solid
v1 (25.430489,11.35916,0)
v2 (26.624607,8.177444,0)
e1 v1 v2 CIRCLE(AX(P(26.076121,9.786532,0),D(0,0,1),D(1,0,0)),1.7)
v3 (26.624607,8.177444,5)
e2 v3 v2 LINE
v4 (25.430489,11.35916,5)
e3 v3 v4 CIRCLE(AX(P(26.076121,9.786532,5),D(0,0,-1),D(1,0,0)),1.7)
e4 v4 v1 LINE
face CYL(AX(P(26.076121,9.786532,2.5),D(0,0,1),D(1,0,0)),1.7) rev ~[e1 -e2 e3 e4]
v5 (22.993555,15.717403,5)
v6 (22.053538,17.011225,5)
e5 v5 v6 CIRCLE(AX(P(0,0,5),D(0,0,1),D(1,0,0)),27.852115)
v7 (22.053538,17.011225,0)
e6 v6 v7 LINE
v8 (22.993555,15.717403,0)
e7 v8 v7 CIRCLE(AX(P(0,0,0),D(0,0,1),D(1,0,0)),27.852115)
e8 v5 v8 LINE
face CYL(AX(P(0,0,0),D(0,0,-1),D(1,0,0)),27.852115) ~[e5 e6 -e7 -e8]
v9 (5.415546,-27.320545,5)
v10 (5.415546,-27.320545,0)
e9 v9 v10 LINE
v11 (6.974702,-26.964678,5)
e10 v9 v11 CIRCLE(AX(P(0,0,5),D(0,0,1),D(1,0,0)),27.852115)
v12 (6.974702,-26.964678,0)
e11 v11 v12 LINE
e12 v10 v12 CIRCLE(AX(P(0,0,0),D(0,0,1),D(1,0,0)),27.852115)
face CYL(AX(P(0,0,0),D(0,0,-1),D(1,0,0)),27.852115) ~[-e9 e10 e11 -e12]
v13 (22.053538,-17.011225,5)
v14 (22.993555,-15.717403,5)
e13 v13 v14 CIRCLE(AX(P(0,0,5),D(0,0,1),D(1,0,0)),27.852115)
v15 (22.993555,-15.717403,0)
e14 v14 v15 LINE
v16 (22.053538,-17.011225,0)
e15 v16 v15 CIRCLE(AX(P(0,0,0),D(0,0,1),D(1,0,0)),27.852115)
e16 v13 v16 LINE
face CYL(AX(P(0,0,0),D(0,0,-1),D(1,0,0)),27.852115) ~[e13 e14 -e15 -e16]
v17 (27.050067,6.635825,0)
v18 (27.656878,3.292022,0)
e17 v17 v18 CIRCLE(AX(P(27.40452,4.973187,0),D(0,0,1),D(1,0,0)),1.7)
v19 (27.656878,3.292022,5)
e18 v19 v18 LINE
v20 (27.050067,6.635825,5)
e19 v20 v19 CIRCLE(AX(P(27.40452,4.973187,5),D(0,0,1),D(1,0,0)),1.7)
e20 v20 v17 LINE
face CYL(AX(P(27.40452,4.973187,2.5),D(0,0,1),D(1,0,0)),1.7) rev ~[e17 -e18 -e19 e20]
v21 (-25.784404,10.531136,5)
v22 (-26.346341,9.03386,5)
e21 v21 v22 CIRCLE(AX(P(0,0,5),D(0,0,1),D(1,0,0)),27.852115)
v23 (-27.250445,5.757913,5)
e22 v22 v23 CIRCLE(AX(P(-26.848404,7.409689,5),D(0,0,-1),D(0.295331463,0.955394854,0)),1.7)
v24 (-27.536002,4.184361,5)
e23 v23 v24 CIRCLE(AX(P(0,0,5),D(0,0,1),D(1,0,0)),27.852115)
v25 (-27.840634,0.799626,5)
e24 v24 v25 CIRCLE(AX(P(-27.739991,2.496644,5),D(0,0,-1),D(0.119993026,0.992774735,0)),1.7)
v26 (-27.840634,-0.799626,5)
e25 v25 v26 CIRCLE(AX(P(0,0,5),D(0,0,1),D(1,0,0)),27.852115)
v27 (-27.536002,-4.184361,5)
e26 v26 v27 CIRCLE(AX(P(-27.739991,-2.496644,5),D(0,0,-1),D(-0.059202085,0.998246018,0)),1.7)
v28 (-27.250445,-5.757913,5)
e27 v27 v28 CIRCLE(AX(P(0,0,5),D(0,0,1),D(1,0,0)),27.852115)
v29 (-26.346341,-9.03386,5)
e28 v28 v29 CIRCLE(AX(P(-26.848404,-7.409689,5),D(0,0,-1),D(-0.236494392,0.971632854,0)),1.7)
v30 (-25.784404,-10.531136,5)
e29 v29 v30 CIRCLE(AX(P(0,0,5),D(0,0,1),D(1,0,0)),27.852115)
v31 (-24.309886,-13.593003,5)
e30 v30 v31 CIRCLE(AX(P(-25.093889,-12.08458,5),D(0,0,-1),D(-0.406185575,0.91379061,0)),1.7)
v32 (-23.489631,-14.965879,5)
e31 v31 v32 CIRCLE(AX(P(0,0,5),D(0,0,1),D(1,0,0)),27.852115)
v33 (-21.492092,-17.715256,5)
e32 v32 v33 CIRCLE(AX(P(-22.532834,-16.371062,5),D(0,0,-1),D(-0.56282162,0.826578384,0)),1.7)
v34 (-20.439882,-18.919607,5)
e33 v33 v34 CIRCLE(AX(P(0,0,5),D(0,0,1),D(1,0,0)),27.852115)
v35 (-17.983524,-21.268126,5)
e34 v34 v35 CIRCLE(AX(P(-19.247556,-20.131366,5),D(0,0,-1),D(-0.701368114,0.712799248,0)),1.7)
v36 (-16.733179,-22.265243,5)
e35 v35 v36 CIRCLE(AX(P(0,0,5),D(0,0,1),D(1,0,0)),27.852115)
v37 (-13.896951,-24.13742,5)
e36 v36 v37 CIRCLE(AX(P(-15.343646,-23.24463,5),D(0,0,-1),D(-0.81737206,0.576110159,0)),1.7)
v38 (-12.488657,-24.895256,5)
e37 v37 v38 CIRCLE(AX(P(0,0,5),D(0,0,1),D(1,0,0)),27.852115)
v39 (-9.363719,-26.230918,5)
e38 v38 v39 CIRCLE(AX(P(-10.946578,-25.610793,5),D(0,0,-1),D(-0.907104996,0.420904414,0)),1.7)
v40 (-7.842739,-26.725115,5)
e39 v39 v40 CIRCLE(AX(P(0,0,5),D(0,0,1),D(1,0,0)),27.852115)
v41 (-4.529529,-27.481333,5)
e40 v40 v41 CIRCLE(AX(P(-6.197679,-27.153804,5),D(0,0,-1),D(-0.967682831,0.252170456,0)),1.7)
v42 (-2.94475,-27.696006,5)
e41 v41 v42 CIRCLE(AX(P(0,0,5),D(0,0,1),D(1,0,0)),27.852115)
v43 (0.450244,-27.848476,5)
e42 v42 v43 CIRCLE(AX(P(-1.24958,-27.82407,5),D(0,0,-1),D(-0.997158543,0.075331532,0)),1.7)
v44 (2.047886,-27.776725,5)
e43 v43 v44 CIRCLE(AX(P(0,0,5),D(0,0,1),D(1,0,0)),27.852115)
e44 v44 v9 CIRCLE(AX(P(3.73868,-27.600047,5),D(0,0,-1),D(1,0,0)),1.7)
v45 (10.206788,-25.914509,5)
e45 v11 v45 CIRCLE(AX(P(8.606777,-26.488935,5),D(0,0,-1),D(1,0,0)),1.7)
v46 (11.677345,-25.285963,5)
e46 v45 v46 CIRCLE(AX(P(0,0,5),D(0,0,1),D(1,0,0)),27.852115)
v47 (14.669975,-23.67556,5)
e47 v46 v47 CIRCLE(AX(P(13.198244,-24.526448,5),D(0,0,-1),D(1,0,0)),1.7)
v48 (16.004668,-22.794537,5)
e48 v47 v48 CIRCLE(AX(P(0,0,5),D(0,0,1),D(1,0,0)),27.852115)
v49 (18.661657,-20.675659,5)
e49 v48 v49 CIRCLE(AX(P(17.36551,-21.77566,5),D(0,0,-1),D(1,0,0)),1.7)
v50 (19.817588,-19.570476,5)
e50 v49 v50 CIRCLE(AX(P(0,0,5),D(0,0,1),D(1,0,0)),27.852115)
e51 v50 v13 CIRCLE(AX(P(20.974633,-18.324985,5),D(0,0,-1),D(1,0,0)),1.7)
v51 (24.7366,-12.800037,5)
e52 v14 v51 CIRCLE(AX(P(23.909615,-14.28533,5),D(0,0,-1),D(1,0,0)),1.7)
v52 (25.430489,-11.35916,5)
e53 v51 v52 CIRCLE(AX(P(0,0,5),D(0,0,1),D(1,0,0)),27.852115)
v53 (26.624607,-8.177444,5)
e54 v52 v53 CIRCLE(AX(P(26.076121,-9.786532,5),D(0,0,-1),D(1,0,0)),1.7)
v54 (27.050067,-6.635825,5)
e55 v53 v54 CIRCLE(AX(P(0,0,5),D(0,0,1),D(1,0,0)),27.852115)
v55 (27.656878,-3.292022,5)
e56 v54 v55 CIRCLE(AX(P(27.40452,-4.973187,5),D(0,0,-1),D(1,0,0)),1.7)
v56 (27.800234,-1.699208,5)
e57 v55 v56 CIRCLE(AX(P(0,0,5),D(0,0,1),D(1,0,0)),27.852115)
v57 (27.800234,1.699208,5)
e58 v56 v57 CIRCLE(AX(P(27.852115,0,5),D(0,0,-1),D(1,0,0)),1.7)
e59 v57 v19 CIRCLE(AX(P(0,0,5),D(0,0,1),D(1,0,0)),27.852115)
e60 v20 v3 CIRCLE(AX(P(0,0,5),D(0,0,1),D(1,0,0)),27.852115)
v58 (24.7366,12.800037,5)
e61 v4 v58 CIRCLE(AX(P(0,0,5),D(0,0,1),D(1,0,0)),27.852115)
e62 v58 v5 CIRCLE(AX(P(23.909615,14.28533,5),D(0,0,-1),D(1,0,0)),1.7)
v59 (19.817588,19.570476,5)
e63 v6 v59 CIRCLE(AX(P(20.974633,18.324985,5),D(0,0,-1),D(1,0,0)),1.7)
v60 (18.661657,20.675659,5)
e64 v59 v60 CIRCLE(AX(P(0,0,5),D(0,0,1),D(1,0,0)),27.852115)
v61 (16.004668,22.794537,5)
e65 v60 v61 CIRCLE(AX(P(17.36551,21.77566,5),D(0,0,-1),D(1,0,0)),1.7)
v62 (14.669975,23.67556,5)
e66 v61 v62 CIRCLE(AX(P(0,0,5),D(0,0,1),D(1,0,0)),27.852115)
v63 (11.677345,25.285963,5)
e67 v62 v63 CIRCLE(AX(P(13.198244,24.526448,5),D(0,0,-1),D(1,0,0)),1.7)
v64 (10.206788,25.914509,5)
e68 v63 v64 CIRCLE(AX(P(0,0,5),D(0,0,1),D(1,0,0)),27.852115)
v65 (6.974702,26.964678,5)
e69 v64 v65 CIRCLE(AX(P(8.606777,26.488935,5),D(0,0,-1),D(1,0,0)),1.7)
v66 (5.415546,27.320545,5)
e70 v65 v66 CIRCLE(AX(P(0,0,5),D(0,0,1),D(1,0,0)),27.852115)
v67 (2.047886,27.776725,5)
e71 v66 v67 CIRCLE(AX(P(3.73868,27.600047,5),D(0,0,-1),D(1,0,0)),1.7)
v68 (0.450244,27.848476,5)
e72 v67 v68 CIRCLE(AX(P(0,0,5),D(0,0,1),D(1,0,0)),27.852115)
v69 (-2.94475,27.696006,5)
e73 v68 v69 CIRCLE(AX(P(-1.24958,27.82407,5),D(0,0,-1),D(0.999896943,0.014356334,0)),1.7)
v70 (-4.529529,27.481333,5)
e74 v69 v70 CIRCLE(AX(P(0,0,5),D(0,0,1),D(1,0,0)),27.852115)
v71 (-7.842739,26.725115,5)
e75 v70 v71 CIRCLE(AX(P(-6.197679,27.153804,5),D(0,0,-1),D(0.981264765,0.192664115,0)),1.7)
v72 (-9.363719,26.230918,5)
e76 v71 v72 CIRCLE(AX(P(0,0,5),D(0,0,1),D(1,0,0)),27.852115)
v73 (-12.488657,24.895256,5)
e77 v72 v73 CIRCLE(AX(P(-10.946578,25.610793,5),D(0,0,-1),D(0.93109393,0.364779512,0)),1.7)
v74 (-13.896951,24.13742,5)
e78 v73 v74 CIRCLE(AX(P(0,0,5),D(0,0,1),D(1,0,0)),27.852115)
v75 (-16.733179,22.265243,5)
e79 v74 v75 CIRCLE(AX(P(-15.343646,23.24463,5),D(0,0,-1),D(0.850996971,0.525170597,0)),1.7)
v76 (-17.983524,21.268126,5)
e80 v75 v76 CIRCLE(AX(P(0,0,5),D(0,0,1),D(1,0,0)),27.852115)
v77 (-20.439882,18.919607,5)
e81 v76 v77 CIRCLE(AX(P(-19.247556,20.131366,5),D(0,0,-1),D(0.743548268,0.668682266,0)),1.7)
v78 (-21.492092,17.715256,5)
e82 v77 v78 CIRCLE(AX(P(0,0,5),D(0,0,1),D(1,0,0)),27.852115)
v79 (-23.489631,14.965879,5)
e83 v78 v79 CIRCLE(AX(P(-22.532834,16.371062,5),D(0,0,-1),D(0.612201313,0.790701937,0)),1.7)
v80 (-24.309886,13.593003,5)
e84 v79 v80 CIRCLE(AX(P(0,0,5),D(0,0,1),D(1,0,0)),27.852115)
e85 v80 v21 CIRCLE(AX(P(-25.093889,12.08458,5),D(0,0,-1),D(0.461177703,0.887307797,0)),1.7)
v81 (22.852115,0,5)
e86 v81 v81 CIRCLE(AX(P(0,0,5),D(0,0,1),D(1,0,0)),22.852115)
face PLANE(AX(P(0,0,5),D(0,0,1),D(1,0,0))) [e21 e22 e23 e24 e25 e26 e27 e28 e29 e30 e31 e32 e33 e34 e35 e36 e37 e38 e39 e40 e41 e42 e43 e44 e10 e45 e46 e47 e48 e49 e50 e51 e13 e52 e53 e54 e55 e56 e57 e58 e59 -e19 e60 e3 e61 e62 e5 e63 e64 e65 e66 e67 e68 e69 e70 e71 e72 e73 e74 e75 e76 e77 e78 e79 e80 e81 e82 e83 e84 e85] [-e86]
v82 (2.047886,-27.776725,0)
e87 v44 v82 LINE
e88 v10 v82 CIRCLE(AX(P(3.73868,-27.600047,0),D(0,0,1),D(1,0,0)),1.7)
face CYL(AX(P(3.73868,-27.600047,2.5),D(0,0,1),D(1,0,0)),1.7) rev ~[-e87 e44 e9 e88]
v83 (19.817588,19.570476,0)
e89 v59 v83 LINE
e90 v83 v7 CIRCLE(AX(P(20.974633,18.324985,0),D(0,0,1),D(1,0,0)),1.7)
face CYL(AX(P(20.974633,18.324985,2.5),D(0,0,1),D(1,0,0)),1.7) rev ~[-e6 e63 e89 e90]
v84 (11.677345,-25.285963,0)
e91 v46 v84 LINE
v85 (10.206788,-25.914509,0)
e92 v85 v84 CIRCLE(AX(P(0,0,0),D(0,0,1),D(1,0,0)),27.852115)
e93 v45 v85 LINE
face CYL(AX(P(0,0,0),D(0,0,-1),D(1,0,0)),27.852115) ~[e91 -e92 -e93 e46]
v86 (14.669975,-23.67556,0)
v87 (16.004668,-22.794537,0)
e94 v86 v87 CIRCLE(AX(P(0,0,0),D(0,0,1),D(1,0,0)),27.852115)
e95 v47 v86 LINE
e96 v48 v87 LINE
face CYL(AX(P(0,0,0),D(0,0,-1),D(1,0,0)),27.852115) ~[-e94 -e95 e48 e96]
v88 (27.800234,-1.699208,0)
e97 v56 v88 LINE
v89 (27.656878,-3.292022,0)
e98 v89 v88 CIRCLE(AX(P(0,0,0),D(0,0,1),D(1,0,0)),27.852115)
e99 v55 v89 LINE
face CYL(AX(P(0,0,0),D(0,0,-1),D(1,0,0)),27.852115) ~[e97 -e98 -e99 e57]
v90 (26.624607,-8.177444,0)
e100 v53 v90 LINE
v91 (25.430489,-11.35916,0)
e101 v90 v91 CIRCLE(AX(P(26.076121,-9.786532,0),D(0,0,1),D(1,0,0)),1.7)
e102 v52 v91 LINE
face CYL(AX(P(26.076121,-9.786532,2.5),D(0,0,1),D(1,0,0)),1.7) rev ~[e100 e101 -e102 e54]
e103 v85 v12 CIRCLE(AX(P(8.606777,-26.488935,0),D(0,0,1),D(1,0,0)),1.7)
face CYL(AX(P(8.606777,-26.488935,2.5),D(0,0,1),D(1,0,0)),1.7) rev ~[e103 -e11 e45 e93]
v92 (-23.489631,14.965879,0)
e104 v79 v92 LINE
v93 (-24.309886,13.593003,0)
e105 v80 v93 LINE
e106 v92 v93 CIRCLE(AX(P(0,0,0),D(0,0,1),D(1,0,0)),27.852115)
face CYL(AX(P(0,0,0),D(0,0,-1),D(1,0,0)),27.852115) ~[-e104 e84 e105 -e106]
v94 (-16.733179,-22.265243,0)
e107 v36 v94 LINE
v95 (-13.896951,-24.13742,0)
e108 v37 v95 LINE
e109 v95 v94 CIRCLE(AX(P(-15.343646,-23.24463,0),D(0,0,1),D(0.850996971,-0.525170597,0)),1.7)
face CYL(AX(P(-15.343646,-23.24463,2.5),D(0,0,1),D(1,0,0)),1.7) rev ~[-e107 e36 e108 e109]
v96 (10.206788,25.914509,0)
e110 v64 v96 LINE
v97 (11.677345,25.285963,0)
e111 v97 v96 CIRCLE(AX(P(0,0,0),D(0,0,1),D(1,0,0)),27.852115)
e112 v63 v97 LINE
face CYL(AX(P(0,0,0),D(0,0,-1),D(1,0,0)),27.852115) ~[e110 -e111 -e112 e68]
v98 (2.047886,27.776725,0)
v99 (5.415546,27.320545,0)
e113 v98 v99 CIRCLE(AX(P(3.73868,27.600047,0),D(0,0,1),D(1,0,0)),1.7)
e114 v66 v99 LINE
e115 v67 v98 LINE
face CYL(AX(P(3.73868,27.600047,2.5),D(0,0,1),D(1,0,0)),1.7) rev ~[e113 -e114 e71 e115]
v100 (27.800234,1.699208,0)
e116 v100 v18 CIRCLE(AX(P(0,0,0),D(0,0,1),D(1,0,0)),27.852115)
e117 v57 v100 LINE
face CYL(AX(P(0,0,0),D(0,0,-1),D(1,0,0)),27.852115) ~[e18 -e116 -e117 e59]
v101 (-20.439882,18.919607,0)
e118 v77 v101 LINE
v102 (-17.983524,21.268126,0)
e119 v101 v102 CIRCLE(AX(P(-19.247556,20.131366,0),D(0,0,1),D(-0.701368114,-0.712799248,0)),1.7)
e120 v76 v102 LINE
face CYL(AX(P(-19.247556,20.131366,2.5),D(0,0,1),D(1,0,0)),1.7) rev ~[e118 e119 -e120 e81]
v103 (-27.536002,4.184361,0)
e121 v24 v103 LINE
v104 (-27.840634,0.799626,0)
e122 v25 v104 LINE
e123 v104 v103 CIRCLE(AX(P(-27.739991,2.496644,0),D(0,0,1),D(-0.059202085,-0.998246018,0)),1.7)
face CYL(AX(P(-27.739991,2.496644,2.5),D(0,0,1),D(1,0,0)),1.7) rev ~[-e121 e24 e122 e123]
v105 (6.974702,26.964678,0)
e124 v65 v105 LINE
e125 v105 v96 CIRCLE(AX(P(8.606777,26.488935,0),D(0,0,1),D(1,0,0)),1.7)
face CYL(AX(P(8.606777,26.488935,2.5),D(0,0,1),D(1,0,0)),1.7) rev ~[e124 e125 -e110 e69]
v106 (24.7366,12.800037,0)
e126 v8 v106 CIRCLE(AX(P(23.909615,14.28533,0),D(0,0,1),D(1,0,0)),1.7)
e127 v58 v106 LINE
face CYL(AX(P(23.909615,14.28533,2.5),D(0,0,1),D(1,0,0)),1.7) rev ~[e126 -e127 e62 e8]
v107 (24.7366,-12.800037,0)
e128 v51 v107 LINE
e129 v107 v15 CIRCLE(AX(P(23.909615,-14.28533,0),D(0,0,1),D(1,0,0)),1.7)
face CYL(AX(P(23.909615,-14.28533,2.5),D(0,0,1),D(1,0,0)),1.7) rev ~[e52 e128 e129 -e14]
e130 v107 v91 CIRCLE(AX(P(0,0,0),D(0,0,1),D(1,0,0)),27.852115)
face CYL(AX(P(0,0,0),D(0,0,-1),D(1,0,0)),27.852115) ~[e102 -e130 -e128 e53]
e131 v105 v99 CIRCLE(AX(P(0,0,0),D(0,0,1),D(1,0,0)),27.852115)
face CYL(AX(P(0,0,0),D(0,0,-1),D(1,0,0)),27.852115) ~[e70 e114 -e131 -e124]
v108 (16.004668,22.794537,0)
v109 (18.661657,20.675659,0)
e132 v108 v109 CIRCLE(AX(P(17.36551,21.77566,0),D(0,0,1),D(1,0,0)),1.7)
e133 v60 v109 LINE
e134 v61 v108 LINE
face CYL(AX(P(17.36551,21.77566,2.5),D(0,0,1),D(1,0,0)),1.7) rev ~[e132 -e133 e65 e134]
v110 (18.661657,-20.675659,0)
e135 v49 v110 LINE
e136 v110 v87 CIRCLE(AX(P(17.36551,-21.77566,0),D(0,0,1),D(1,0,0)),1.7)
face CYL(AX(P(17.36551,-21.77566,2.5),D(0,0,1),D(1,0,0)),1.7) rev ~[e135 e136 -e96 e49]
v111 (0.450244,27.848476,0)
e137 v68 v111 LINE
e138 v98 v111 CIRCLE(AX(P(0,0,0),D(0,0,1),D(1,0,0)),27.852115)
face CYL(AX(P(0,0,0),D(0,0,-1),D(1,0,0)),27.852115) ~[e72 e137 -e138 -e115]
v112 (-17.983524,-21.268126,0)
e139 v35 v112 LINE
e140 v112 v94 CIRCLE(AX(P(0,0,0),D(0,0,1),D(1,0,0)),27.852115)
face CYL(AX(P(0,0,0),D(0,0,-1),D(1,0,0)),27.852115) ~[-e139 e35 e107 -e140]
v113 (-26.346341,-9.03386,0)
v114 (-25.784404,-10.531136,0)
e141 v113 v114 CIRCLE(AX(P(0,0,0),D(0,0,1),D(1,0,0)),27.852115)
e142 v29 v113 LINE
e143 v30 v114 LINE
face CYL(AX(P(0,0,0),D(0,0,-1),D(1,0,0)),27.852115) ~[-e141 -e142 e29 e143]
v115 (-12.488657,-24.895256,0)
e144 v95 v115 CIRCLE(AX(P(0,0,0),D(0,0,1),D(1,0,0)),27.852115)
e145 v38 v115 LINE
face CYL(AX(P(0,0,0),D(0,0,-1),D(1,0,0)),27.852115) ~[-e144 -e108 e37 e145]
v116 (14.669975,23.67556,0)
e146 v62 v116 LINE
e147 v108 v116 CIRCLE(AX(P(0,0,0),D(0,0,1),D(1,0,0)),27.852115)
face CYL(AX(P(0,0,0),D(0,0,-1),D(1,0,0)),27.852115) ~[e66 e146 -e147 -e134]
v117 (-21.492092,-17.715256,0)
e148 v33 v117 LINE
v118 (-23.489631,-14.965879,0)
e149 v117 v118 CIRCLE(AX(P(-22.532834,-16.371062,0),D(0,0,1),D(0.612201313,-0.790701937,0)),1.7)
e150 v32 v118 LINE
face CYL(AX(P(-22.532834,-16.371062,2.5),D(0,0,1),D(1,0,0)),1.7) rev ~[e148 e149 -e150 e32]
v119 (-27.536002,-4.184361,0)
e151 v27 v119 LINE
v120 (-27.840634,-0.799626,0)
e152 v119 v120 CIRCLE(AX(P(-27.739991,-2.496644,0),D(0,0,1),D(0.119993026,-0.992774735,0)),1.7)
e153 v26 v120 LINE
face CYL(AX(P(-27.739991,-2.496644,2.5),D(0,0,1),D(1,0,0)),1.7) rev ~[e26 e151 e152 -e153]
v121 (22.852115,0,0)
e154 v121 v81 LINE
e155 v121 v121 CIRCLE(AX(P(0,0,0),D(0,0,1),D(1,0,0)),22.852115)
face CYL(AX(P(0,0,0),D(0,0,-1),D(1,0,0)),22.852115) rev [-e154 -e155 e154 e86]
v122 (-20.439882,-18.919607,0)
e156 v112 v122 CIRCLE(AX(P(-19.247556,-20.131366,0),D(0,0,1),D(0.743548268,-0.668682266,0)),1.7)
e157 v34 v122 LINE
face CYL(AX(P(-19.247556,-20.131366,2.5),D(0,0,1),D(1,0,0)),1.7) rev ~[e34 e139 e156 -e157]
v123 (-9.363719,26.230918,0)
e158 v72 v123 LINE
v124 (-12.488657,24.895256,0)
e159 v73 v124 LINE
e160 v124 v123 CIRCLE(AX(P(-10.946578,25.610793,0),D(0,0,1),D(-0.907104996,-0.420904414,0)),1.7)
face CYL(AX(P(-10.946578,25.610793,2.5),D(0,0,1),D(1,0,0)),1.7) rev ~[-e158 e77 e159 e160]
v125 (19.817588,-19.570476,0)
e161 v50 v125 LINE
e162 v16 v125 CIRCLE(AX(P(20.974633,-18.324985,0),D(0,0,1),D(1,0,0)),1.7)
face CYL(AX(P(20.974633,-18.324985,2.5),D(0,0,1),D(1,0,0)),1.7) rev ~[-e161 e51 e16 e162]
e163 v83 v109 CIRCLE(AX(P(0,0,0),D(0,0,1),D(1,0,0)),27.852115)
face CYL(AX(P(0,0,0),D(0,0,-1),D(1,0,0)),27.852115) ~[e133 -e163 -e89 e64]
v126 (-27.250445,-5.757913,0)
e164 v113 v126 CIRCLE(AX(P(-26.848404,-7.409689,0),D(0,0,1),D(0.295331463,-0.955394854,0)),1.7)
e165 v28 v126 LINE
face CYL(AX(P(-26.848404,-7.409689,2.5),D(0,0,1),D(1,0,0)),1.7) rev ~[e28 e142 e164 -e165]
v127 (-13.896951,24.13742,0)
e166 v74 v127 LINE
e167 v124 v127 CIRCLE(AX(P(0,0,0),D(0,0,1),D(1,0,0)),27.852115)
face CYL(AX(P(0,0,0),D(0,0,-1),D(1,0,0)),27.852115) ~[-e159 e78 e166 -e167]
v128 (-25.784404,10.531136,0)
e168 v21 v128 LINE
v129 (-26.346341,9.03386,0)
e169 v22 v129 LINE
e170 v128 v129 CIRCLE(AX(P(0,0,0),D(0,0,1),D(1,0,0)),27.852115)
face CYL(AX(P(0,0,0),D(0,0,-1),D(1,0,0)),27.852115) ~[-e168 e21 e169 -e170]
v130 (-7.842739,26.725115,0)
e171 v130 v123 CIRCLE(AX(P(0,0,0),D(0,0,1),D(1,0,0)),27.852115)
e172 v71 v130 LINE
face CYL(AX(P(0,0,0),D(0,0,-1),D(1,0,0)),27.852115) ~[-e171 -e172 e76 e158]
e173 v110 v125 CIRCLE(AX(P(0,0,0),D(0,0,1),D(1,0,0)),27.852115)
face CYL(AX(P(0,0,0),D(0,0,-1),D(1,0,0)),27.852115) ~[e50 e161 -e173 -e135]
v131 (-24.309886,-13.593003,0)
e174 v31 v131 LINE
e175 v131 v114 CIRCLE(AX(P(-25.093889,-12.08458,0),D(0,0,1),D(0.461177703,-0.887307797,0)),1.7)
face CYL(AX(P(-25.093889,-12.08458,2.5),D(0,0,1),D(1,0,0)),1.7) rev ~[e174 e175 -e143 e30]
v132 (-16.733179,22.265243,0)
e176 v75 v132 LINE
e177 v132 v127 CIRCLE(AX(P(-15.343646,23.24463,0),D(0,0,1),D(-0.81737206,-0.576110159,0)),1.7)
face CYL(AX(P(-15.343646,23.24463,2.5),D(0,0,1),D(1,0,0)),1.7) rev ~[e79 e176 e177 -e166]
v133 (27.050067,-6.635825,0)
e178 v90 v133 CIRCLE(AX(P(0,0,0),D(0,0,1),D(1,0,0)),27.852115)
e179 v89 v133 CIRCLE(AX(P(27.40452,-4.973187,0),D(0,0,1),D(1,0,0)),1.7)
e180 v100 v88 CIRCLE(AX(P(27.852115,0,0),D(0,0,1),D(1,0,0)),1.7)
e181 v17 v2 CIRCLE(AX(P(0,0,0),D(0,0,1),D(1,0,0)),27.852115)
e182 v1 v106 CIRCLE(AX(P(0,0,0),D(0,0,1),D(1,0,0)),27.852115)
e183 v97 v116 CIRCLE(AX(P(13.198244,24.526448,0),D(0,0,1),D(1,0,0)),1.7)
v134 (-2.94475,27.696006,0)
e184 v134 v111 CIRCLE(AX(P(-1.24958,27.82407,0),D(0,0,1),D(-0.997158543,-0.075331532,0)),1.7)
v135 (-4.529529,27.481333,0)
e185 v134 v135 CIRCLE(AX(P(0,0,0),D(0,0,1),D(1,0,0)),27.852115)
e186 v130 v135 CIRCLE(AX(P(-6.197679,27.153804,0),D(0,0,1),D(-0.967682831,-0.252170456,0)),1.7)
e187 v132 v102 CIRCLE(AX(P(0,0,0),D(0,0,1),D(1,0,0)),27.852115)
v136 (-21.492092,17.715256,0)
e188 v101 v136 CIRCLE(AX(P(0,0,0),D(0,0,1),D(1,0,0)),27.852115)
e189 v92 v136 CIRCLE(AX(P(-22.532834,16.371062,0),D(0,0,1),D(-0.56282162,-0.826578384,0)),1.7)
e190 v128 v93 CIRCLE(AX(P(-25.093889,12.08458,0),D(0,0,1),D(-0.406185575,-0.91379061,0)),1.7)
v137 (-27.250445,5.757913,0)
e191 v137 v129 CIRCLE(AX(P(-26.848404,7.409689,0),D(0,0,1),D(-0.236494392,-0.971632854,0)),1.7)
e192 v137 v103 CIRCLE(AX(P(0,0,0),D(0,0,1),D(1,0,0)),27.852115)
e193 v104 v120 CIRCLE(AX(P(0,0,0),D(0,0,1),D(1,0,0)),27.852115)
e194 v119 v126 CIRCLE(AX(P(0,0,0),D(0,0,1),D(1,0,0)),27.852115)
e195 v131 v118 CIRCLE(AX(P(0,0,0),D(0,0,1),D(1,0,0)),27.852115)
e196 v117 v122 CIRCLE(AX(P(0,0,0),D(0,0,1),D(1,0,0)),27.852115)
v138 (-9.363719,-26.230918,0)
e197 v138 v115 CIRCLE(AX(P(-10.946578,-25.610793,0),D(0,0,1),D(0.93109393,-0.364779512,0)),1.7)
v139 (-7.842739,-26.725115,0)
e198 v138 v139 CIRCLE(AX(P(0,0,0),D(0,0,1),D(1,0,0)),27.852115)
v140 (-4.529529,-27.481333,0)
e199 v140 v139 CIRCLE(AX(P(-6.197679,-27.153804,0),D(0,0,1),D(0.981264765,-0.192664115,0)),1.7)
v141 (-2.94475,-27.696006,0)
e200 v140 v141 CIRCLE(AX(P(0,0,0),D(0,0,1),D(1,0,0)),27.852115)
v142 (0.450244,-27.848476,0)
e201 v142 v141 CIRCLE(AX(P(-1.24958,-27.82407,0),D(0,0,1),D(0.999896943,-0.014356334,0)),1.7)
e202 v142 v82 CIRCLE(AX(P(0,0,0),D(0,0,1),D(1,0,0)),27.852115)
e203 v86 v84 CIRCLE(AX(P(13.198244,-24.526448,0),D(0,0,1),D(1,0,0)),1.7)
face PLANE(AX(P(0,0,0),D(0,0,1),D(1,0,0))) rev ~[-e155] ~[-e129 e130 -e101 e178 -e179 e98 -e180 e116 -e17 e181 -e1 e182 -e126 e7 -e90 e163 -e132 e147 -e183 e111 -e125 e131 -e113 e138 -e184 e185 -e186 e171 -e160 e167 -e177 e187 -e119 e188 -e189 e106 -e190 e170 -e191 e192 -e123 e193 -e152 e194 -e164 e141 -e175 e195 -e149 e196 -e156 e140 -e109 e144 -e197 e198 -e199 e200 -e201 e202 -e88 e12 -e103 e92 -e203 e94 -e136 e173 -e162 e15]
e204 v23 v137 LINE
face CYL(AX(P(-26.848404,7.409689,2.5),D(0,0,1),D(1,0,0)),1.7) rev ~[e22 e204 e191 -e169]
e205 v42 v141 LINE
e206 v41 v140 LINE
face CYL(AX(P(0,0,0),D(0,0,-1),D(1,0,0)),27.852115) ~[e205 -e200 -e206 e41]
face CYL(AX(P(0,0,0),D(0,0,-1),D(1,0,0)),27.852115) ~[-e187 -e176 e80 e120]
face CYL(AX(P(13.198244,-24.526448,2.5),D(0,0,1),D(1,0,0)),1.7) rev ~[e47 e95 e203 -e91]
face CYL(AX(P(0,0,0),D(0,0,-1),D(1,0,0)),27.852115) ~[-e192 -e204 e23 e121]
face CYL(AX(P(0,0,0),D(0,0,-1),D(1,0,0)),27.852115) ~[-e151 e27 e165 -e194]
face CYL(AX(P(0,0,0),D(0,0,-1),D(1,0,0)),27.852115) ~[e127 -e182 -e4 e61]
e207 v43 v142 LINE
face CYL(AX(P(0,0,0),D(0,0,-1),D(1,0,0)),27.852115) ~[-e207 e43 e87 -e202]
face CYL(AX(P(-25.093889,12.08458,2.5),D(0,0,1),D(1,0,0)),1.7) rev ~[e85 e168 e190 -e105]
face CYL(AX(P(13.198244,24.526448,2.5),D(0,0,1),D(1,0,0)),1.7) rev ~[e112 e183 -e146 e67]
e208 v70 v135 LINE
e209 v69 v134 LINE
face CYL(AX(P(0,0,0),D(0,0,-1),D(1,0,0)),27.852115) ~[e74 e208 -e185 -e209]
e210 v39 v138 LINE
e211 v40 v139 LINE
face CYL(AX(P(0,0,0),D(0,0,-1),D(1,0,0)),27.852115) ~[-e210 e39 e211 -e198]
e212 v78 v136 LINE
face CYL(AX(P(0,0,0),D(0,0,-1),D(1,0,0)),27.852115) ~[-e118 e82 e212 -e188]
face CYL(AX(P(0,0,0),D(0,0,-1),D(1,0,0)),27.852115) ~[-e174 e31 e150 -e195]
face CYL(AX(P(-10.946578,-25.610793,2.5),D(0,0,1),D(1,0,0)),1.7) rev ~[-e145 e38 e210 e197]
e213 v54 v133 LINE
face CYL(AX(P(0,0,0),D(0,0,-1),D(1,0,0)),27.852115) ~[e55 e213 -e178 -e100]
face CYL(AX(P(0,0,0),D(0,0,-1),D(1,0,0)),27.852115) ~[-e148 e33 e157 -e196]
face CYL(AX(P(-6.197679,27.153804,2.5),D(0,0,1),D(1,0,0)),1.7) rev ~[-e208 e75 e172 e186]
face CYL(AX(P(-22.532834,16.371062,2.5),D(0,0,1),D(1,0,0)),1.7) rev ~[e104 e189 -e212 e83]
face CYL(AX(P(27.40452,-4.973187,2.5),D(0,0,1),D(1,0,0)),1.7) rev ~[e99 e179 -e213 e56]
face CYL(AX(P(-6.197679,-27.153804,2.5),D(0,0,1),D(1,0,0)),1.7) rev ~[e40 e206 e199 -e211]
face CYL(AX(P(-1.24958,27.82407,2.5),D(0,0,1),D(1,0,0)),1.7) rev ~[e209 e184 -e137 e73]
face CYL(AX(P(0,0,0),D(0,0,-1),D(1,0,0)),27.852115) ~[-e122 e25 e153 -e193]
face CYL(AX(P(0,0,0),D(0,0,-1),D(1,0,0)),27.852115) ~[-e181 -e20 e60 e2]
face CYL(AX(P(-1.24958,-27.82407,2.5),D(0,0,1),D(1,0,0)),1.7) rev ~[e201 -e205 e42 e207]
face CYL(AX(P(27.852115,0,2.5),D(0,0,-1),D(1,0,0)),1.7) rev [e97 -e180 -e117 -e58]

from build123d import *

# Parameters (mm, degrees)
SKETCH1_R           = 27.852115
SKETCH1_R_2         = 22.852115
BOSS_EXTRUDE1_DEPTH = 5
SKETCH3_R           = 1.7
CUT_EXTRUDE1_DEPTH  = 8


with BuildPart() as part:
    # Sketch1 → Boss-Extrude1 (new body)
    with BuildSketch(Plane.XY):
        Circle(SKETCH1_R)
        Circle(SKETCH1_R_2, mode=Mode.SUBTRACT)
    extrude(amount=BOSS_EXTRUDE1_DEPTH)

    # Sketch3 → Cut-Extrude1 (cut, symmetric)
    with BuildSketch(Plane.XY.offset(2.5)):
        with Locations((27.852115, 0)):
            Circle(SKETCH3_R)
        with Locations((27.404520054, -4.973187168)):
            Circle(SKETCH3_R)
        with Locations((26.076121284, -9.786532008)):
            Circle(SKETCH3_R)
        with Locations((23.909614521, -14.285329658)):
            Circle(SKETCH3_R)
        with Locations((20.974633074, -18.324985058)):
            Circle(SKETCH3_R)
        with Locations((17.365509663, -21.77566036)):
            Circle(SKETCH3_R)
        with Locations((13.198244482, -24.526448022)):
            Circle(SKETCH3_R)
        with Locations((8.606776864, -26.488935463)):
            Circle(SKETCH3_R)
        with Locations((3.738680356, -27.600046724)):
            Circle(SKETCH3_R)
        with Locations((-1.249580414, -27.824069774)):
            Circle(SKETCH3_R)
        with Locations((-6.197678642, -27.153804327)):
            Circle(SKETCH3_R)
        with Locations((-10.94657838, -25.610793267)):
            Circle(SKETCH3_R)
        with Locations((-15.343646081, -23.244630239)):
            Circle(SKETCH3_R)
        with Locations((-19.247556372, -20.131365669)):
            Circle(SKETCH3_R)
        with Locations((-22.532834364, -16.371062442)):
            Circle(SKETCH3_R)
        with Locations((-25.09388852, -12.084579799)):
            Circle(SKETCH3_R)
        with Locations((-26.848404452, -7.409688817)):
            Circle(SKETCH3_R)
        with Locations((-27.739990573, -2.49664434)):
            Circle(SKETCH3_R)
        with Locations((-27.739990573, 2.49664434)):
            Circle(SKETCH3_R)
        with Locations((-26.848404452, 7.409688817)):
            Circle(SKETCH3_R)
        with Locations((-25.09388852, 12.084579799)):
            Circle(SKETCH3_R)
        with Locations((-22.532834364, 16.371062442)):
            Circle(SKETCH3_R)
        with Locations((-19.247556372, 20.131365669)):
            Circle(SKETCH3_R)
        with Locations((-15.343646081, 23.244630239)):
            Circle(SKETCH3_R)
        with Locations((-10.94657838, 25.610793267)):
            Circle(SKETCH3_R)
        with Locations((-6.197678642, 27.153804327)):
            Circle(SKETCH3_R)
        with Locations((-1.249580414, 27.824069774)):
            Circle(SKETCH3_R)
        with Locations((3.738680356, 27.600046724)):
            Circle(SKETCH3_R)
        with Locations((8.606776864, 26.488935463)):
            Circle(SKETCH3_R)
        with Locations((13.198244482, 24.526448022)):
            Circle(SKETCH3_R)
        with Locations((17.365509663, 21.77566036)):
            Circle(SKETCH3_R)
        with Locations((20.974633074, 18.324985058)):
            Circle(SKETCH3_R)
        with Locations((23.909614521, 14.285329658)):
            Circle(SKETCH3_R)
        with Locations((26.076121284, 9.786532008)):
            Circle(SKETCH3_R)
        with Locations((27.404520054, 4.973187168)):
            Circle(SKETCH3_R)
    extrude(amount=CUT_EXTRUDE1_DEPTH, both=True, mode=Mode.SUBTRACT)


solid = part.part
